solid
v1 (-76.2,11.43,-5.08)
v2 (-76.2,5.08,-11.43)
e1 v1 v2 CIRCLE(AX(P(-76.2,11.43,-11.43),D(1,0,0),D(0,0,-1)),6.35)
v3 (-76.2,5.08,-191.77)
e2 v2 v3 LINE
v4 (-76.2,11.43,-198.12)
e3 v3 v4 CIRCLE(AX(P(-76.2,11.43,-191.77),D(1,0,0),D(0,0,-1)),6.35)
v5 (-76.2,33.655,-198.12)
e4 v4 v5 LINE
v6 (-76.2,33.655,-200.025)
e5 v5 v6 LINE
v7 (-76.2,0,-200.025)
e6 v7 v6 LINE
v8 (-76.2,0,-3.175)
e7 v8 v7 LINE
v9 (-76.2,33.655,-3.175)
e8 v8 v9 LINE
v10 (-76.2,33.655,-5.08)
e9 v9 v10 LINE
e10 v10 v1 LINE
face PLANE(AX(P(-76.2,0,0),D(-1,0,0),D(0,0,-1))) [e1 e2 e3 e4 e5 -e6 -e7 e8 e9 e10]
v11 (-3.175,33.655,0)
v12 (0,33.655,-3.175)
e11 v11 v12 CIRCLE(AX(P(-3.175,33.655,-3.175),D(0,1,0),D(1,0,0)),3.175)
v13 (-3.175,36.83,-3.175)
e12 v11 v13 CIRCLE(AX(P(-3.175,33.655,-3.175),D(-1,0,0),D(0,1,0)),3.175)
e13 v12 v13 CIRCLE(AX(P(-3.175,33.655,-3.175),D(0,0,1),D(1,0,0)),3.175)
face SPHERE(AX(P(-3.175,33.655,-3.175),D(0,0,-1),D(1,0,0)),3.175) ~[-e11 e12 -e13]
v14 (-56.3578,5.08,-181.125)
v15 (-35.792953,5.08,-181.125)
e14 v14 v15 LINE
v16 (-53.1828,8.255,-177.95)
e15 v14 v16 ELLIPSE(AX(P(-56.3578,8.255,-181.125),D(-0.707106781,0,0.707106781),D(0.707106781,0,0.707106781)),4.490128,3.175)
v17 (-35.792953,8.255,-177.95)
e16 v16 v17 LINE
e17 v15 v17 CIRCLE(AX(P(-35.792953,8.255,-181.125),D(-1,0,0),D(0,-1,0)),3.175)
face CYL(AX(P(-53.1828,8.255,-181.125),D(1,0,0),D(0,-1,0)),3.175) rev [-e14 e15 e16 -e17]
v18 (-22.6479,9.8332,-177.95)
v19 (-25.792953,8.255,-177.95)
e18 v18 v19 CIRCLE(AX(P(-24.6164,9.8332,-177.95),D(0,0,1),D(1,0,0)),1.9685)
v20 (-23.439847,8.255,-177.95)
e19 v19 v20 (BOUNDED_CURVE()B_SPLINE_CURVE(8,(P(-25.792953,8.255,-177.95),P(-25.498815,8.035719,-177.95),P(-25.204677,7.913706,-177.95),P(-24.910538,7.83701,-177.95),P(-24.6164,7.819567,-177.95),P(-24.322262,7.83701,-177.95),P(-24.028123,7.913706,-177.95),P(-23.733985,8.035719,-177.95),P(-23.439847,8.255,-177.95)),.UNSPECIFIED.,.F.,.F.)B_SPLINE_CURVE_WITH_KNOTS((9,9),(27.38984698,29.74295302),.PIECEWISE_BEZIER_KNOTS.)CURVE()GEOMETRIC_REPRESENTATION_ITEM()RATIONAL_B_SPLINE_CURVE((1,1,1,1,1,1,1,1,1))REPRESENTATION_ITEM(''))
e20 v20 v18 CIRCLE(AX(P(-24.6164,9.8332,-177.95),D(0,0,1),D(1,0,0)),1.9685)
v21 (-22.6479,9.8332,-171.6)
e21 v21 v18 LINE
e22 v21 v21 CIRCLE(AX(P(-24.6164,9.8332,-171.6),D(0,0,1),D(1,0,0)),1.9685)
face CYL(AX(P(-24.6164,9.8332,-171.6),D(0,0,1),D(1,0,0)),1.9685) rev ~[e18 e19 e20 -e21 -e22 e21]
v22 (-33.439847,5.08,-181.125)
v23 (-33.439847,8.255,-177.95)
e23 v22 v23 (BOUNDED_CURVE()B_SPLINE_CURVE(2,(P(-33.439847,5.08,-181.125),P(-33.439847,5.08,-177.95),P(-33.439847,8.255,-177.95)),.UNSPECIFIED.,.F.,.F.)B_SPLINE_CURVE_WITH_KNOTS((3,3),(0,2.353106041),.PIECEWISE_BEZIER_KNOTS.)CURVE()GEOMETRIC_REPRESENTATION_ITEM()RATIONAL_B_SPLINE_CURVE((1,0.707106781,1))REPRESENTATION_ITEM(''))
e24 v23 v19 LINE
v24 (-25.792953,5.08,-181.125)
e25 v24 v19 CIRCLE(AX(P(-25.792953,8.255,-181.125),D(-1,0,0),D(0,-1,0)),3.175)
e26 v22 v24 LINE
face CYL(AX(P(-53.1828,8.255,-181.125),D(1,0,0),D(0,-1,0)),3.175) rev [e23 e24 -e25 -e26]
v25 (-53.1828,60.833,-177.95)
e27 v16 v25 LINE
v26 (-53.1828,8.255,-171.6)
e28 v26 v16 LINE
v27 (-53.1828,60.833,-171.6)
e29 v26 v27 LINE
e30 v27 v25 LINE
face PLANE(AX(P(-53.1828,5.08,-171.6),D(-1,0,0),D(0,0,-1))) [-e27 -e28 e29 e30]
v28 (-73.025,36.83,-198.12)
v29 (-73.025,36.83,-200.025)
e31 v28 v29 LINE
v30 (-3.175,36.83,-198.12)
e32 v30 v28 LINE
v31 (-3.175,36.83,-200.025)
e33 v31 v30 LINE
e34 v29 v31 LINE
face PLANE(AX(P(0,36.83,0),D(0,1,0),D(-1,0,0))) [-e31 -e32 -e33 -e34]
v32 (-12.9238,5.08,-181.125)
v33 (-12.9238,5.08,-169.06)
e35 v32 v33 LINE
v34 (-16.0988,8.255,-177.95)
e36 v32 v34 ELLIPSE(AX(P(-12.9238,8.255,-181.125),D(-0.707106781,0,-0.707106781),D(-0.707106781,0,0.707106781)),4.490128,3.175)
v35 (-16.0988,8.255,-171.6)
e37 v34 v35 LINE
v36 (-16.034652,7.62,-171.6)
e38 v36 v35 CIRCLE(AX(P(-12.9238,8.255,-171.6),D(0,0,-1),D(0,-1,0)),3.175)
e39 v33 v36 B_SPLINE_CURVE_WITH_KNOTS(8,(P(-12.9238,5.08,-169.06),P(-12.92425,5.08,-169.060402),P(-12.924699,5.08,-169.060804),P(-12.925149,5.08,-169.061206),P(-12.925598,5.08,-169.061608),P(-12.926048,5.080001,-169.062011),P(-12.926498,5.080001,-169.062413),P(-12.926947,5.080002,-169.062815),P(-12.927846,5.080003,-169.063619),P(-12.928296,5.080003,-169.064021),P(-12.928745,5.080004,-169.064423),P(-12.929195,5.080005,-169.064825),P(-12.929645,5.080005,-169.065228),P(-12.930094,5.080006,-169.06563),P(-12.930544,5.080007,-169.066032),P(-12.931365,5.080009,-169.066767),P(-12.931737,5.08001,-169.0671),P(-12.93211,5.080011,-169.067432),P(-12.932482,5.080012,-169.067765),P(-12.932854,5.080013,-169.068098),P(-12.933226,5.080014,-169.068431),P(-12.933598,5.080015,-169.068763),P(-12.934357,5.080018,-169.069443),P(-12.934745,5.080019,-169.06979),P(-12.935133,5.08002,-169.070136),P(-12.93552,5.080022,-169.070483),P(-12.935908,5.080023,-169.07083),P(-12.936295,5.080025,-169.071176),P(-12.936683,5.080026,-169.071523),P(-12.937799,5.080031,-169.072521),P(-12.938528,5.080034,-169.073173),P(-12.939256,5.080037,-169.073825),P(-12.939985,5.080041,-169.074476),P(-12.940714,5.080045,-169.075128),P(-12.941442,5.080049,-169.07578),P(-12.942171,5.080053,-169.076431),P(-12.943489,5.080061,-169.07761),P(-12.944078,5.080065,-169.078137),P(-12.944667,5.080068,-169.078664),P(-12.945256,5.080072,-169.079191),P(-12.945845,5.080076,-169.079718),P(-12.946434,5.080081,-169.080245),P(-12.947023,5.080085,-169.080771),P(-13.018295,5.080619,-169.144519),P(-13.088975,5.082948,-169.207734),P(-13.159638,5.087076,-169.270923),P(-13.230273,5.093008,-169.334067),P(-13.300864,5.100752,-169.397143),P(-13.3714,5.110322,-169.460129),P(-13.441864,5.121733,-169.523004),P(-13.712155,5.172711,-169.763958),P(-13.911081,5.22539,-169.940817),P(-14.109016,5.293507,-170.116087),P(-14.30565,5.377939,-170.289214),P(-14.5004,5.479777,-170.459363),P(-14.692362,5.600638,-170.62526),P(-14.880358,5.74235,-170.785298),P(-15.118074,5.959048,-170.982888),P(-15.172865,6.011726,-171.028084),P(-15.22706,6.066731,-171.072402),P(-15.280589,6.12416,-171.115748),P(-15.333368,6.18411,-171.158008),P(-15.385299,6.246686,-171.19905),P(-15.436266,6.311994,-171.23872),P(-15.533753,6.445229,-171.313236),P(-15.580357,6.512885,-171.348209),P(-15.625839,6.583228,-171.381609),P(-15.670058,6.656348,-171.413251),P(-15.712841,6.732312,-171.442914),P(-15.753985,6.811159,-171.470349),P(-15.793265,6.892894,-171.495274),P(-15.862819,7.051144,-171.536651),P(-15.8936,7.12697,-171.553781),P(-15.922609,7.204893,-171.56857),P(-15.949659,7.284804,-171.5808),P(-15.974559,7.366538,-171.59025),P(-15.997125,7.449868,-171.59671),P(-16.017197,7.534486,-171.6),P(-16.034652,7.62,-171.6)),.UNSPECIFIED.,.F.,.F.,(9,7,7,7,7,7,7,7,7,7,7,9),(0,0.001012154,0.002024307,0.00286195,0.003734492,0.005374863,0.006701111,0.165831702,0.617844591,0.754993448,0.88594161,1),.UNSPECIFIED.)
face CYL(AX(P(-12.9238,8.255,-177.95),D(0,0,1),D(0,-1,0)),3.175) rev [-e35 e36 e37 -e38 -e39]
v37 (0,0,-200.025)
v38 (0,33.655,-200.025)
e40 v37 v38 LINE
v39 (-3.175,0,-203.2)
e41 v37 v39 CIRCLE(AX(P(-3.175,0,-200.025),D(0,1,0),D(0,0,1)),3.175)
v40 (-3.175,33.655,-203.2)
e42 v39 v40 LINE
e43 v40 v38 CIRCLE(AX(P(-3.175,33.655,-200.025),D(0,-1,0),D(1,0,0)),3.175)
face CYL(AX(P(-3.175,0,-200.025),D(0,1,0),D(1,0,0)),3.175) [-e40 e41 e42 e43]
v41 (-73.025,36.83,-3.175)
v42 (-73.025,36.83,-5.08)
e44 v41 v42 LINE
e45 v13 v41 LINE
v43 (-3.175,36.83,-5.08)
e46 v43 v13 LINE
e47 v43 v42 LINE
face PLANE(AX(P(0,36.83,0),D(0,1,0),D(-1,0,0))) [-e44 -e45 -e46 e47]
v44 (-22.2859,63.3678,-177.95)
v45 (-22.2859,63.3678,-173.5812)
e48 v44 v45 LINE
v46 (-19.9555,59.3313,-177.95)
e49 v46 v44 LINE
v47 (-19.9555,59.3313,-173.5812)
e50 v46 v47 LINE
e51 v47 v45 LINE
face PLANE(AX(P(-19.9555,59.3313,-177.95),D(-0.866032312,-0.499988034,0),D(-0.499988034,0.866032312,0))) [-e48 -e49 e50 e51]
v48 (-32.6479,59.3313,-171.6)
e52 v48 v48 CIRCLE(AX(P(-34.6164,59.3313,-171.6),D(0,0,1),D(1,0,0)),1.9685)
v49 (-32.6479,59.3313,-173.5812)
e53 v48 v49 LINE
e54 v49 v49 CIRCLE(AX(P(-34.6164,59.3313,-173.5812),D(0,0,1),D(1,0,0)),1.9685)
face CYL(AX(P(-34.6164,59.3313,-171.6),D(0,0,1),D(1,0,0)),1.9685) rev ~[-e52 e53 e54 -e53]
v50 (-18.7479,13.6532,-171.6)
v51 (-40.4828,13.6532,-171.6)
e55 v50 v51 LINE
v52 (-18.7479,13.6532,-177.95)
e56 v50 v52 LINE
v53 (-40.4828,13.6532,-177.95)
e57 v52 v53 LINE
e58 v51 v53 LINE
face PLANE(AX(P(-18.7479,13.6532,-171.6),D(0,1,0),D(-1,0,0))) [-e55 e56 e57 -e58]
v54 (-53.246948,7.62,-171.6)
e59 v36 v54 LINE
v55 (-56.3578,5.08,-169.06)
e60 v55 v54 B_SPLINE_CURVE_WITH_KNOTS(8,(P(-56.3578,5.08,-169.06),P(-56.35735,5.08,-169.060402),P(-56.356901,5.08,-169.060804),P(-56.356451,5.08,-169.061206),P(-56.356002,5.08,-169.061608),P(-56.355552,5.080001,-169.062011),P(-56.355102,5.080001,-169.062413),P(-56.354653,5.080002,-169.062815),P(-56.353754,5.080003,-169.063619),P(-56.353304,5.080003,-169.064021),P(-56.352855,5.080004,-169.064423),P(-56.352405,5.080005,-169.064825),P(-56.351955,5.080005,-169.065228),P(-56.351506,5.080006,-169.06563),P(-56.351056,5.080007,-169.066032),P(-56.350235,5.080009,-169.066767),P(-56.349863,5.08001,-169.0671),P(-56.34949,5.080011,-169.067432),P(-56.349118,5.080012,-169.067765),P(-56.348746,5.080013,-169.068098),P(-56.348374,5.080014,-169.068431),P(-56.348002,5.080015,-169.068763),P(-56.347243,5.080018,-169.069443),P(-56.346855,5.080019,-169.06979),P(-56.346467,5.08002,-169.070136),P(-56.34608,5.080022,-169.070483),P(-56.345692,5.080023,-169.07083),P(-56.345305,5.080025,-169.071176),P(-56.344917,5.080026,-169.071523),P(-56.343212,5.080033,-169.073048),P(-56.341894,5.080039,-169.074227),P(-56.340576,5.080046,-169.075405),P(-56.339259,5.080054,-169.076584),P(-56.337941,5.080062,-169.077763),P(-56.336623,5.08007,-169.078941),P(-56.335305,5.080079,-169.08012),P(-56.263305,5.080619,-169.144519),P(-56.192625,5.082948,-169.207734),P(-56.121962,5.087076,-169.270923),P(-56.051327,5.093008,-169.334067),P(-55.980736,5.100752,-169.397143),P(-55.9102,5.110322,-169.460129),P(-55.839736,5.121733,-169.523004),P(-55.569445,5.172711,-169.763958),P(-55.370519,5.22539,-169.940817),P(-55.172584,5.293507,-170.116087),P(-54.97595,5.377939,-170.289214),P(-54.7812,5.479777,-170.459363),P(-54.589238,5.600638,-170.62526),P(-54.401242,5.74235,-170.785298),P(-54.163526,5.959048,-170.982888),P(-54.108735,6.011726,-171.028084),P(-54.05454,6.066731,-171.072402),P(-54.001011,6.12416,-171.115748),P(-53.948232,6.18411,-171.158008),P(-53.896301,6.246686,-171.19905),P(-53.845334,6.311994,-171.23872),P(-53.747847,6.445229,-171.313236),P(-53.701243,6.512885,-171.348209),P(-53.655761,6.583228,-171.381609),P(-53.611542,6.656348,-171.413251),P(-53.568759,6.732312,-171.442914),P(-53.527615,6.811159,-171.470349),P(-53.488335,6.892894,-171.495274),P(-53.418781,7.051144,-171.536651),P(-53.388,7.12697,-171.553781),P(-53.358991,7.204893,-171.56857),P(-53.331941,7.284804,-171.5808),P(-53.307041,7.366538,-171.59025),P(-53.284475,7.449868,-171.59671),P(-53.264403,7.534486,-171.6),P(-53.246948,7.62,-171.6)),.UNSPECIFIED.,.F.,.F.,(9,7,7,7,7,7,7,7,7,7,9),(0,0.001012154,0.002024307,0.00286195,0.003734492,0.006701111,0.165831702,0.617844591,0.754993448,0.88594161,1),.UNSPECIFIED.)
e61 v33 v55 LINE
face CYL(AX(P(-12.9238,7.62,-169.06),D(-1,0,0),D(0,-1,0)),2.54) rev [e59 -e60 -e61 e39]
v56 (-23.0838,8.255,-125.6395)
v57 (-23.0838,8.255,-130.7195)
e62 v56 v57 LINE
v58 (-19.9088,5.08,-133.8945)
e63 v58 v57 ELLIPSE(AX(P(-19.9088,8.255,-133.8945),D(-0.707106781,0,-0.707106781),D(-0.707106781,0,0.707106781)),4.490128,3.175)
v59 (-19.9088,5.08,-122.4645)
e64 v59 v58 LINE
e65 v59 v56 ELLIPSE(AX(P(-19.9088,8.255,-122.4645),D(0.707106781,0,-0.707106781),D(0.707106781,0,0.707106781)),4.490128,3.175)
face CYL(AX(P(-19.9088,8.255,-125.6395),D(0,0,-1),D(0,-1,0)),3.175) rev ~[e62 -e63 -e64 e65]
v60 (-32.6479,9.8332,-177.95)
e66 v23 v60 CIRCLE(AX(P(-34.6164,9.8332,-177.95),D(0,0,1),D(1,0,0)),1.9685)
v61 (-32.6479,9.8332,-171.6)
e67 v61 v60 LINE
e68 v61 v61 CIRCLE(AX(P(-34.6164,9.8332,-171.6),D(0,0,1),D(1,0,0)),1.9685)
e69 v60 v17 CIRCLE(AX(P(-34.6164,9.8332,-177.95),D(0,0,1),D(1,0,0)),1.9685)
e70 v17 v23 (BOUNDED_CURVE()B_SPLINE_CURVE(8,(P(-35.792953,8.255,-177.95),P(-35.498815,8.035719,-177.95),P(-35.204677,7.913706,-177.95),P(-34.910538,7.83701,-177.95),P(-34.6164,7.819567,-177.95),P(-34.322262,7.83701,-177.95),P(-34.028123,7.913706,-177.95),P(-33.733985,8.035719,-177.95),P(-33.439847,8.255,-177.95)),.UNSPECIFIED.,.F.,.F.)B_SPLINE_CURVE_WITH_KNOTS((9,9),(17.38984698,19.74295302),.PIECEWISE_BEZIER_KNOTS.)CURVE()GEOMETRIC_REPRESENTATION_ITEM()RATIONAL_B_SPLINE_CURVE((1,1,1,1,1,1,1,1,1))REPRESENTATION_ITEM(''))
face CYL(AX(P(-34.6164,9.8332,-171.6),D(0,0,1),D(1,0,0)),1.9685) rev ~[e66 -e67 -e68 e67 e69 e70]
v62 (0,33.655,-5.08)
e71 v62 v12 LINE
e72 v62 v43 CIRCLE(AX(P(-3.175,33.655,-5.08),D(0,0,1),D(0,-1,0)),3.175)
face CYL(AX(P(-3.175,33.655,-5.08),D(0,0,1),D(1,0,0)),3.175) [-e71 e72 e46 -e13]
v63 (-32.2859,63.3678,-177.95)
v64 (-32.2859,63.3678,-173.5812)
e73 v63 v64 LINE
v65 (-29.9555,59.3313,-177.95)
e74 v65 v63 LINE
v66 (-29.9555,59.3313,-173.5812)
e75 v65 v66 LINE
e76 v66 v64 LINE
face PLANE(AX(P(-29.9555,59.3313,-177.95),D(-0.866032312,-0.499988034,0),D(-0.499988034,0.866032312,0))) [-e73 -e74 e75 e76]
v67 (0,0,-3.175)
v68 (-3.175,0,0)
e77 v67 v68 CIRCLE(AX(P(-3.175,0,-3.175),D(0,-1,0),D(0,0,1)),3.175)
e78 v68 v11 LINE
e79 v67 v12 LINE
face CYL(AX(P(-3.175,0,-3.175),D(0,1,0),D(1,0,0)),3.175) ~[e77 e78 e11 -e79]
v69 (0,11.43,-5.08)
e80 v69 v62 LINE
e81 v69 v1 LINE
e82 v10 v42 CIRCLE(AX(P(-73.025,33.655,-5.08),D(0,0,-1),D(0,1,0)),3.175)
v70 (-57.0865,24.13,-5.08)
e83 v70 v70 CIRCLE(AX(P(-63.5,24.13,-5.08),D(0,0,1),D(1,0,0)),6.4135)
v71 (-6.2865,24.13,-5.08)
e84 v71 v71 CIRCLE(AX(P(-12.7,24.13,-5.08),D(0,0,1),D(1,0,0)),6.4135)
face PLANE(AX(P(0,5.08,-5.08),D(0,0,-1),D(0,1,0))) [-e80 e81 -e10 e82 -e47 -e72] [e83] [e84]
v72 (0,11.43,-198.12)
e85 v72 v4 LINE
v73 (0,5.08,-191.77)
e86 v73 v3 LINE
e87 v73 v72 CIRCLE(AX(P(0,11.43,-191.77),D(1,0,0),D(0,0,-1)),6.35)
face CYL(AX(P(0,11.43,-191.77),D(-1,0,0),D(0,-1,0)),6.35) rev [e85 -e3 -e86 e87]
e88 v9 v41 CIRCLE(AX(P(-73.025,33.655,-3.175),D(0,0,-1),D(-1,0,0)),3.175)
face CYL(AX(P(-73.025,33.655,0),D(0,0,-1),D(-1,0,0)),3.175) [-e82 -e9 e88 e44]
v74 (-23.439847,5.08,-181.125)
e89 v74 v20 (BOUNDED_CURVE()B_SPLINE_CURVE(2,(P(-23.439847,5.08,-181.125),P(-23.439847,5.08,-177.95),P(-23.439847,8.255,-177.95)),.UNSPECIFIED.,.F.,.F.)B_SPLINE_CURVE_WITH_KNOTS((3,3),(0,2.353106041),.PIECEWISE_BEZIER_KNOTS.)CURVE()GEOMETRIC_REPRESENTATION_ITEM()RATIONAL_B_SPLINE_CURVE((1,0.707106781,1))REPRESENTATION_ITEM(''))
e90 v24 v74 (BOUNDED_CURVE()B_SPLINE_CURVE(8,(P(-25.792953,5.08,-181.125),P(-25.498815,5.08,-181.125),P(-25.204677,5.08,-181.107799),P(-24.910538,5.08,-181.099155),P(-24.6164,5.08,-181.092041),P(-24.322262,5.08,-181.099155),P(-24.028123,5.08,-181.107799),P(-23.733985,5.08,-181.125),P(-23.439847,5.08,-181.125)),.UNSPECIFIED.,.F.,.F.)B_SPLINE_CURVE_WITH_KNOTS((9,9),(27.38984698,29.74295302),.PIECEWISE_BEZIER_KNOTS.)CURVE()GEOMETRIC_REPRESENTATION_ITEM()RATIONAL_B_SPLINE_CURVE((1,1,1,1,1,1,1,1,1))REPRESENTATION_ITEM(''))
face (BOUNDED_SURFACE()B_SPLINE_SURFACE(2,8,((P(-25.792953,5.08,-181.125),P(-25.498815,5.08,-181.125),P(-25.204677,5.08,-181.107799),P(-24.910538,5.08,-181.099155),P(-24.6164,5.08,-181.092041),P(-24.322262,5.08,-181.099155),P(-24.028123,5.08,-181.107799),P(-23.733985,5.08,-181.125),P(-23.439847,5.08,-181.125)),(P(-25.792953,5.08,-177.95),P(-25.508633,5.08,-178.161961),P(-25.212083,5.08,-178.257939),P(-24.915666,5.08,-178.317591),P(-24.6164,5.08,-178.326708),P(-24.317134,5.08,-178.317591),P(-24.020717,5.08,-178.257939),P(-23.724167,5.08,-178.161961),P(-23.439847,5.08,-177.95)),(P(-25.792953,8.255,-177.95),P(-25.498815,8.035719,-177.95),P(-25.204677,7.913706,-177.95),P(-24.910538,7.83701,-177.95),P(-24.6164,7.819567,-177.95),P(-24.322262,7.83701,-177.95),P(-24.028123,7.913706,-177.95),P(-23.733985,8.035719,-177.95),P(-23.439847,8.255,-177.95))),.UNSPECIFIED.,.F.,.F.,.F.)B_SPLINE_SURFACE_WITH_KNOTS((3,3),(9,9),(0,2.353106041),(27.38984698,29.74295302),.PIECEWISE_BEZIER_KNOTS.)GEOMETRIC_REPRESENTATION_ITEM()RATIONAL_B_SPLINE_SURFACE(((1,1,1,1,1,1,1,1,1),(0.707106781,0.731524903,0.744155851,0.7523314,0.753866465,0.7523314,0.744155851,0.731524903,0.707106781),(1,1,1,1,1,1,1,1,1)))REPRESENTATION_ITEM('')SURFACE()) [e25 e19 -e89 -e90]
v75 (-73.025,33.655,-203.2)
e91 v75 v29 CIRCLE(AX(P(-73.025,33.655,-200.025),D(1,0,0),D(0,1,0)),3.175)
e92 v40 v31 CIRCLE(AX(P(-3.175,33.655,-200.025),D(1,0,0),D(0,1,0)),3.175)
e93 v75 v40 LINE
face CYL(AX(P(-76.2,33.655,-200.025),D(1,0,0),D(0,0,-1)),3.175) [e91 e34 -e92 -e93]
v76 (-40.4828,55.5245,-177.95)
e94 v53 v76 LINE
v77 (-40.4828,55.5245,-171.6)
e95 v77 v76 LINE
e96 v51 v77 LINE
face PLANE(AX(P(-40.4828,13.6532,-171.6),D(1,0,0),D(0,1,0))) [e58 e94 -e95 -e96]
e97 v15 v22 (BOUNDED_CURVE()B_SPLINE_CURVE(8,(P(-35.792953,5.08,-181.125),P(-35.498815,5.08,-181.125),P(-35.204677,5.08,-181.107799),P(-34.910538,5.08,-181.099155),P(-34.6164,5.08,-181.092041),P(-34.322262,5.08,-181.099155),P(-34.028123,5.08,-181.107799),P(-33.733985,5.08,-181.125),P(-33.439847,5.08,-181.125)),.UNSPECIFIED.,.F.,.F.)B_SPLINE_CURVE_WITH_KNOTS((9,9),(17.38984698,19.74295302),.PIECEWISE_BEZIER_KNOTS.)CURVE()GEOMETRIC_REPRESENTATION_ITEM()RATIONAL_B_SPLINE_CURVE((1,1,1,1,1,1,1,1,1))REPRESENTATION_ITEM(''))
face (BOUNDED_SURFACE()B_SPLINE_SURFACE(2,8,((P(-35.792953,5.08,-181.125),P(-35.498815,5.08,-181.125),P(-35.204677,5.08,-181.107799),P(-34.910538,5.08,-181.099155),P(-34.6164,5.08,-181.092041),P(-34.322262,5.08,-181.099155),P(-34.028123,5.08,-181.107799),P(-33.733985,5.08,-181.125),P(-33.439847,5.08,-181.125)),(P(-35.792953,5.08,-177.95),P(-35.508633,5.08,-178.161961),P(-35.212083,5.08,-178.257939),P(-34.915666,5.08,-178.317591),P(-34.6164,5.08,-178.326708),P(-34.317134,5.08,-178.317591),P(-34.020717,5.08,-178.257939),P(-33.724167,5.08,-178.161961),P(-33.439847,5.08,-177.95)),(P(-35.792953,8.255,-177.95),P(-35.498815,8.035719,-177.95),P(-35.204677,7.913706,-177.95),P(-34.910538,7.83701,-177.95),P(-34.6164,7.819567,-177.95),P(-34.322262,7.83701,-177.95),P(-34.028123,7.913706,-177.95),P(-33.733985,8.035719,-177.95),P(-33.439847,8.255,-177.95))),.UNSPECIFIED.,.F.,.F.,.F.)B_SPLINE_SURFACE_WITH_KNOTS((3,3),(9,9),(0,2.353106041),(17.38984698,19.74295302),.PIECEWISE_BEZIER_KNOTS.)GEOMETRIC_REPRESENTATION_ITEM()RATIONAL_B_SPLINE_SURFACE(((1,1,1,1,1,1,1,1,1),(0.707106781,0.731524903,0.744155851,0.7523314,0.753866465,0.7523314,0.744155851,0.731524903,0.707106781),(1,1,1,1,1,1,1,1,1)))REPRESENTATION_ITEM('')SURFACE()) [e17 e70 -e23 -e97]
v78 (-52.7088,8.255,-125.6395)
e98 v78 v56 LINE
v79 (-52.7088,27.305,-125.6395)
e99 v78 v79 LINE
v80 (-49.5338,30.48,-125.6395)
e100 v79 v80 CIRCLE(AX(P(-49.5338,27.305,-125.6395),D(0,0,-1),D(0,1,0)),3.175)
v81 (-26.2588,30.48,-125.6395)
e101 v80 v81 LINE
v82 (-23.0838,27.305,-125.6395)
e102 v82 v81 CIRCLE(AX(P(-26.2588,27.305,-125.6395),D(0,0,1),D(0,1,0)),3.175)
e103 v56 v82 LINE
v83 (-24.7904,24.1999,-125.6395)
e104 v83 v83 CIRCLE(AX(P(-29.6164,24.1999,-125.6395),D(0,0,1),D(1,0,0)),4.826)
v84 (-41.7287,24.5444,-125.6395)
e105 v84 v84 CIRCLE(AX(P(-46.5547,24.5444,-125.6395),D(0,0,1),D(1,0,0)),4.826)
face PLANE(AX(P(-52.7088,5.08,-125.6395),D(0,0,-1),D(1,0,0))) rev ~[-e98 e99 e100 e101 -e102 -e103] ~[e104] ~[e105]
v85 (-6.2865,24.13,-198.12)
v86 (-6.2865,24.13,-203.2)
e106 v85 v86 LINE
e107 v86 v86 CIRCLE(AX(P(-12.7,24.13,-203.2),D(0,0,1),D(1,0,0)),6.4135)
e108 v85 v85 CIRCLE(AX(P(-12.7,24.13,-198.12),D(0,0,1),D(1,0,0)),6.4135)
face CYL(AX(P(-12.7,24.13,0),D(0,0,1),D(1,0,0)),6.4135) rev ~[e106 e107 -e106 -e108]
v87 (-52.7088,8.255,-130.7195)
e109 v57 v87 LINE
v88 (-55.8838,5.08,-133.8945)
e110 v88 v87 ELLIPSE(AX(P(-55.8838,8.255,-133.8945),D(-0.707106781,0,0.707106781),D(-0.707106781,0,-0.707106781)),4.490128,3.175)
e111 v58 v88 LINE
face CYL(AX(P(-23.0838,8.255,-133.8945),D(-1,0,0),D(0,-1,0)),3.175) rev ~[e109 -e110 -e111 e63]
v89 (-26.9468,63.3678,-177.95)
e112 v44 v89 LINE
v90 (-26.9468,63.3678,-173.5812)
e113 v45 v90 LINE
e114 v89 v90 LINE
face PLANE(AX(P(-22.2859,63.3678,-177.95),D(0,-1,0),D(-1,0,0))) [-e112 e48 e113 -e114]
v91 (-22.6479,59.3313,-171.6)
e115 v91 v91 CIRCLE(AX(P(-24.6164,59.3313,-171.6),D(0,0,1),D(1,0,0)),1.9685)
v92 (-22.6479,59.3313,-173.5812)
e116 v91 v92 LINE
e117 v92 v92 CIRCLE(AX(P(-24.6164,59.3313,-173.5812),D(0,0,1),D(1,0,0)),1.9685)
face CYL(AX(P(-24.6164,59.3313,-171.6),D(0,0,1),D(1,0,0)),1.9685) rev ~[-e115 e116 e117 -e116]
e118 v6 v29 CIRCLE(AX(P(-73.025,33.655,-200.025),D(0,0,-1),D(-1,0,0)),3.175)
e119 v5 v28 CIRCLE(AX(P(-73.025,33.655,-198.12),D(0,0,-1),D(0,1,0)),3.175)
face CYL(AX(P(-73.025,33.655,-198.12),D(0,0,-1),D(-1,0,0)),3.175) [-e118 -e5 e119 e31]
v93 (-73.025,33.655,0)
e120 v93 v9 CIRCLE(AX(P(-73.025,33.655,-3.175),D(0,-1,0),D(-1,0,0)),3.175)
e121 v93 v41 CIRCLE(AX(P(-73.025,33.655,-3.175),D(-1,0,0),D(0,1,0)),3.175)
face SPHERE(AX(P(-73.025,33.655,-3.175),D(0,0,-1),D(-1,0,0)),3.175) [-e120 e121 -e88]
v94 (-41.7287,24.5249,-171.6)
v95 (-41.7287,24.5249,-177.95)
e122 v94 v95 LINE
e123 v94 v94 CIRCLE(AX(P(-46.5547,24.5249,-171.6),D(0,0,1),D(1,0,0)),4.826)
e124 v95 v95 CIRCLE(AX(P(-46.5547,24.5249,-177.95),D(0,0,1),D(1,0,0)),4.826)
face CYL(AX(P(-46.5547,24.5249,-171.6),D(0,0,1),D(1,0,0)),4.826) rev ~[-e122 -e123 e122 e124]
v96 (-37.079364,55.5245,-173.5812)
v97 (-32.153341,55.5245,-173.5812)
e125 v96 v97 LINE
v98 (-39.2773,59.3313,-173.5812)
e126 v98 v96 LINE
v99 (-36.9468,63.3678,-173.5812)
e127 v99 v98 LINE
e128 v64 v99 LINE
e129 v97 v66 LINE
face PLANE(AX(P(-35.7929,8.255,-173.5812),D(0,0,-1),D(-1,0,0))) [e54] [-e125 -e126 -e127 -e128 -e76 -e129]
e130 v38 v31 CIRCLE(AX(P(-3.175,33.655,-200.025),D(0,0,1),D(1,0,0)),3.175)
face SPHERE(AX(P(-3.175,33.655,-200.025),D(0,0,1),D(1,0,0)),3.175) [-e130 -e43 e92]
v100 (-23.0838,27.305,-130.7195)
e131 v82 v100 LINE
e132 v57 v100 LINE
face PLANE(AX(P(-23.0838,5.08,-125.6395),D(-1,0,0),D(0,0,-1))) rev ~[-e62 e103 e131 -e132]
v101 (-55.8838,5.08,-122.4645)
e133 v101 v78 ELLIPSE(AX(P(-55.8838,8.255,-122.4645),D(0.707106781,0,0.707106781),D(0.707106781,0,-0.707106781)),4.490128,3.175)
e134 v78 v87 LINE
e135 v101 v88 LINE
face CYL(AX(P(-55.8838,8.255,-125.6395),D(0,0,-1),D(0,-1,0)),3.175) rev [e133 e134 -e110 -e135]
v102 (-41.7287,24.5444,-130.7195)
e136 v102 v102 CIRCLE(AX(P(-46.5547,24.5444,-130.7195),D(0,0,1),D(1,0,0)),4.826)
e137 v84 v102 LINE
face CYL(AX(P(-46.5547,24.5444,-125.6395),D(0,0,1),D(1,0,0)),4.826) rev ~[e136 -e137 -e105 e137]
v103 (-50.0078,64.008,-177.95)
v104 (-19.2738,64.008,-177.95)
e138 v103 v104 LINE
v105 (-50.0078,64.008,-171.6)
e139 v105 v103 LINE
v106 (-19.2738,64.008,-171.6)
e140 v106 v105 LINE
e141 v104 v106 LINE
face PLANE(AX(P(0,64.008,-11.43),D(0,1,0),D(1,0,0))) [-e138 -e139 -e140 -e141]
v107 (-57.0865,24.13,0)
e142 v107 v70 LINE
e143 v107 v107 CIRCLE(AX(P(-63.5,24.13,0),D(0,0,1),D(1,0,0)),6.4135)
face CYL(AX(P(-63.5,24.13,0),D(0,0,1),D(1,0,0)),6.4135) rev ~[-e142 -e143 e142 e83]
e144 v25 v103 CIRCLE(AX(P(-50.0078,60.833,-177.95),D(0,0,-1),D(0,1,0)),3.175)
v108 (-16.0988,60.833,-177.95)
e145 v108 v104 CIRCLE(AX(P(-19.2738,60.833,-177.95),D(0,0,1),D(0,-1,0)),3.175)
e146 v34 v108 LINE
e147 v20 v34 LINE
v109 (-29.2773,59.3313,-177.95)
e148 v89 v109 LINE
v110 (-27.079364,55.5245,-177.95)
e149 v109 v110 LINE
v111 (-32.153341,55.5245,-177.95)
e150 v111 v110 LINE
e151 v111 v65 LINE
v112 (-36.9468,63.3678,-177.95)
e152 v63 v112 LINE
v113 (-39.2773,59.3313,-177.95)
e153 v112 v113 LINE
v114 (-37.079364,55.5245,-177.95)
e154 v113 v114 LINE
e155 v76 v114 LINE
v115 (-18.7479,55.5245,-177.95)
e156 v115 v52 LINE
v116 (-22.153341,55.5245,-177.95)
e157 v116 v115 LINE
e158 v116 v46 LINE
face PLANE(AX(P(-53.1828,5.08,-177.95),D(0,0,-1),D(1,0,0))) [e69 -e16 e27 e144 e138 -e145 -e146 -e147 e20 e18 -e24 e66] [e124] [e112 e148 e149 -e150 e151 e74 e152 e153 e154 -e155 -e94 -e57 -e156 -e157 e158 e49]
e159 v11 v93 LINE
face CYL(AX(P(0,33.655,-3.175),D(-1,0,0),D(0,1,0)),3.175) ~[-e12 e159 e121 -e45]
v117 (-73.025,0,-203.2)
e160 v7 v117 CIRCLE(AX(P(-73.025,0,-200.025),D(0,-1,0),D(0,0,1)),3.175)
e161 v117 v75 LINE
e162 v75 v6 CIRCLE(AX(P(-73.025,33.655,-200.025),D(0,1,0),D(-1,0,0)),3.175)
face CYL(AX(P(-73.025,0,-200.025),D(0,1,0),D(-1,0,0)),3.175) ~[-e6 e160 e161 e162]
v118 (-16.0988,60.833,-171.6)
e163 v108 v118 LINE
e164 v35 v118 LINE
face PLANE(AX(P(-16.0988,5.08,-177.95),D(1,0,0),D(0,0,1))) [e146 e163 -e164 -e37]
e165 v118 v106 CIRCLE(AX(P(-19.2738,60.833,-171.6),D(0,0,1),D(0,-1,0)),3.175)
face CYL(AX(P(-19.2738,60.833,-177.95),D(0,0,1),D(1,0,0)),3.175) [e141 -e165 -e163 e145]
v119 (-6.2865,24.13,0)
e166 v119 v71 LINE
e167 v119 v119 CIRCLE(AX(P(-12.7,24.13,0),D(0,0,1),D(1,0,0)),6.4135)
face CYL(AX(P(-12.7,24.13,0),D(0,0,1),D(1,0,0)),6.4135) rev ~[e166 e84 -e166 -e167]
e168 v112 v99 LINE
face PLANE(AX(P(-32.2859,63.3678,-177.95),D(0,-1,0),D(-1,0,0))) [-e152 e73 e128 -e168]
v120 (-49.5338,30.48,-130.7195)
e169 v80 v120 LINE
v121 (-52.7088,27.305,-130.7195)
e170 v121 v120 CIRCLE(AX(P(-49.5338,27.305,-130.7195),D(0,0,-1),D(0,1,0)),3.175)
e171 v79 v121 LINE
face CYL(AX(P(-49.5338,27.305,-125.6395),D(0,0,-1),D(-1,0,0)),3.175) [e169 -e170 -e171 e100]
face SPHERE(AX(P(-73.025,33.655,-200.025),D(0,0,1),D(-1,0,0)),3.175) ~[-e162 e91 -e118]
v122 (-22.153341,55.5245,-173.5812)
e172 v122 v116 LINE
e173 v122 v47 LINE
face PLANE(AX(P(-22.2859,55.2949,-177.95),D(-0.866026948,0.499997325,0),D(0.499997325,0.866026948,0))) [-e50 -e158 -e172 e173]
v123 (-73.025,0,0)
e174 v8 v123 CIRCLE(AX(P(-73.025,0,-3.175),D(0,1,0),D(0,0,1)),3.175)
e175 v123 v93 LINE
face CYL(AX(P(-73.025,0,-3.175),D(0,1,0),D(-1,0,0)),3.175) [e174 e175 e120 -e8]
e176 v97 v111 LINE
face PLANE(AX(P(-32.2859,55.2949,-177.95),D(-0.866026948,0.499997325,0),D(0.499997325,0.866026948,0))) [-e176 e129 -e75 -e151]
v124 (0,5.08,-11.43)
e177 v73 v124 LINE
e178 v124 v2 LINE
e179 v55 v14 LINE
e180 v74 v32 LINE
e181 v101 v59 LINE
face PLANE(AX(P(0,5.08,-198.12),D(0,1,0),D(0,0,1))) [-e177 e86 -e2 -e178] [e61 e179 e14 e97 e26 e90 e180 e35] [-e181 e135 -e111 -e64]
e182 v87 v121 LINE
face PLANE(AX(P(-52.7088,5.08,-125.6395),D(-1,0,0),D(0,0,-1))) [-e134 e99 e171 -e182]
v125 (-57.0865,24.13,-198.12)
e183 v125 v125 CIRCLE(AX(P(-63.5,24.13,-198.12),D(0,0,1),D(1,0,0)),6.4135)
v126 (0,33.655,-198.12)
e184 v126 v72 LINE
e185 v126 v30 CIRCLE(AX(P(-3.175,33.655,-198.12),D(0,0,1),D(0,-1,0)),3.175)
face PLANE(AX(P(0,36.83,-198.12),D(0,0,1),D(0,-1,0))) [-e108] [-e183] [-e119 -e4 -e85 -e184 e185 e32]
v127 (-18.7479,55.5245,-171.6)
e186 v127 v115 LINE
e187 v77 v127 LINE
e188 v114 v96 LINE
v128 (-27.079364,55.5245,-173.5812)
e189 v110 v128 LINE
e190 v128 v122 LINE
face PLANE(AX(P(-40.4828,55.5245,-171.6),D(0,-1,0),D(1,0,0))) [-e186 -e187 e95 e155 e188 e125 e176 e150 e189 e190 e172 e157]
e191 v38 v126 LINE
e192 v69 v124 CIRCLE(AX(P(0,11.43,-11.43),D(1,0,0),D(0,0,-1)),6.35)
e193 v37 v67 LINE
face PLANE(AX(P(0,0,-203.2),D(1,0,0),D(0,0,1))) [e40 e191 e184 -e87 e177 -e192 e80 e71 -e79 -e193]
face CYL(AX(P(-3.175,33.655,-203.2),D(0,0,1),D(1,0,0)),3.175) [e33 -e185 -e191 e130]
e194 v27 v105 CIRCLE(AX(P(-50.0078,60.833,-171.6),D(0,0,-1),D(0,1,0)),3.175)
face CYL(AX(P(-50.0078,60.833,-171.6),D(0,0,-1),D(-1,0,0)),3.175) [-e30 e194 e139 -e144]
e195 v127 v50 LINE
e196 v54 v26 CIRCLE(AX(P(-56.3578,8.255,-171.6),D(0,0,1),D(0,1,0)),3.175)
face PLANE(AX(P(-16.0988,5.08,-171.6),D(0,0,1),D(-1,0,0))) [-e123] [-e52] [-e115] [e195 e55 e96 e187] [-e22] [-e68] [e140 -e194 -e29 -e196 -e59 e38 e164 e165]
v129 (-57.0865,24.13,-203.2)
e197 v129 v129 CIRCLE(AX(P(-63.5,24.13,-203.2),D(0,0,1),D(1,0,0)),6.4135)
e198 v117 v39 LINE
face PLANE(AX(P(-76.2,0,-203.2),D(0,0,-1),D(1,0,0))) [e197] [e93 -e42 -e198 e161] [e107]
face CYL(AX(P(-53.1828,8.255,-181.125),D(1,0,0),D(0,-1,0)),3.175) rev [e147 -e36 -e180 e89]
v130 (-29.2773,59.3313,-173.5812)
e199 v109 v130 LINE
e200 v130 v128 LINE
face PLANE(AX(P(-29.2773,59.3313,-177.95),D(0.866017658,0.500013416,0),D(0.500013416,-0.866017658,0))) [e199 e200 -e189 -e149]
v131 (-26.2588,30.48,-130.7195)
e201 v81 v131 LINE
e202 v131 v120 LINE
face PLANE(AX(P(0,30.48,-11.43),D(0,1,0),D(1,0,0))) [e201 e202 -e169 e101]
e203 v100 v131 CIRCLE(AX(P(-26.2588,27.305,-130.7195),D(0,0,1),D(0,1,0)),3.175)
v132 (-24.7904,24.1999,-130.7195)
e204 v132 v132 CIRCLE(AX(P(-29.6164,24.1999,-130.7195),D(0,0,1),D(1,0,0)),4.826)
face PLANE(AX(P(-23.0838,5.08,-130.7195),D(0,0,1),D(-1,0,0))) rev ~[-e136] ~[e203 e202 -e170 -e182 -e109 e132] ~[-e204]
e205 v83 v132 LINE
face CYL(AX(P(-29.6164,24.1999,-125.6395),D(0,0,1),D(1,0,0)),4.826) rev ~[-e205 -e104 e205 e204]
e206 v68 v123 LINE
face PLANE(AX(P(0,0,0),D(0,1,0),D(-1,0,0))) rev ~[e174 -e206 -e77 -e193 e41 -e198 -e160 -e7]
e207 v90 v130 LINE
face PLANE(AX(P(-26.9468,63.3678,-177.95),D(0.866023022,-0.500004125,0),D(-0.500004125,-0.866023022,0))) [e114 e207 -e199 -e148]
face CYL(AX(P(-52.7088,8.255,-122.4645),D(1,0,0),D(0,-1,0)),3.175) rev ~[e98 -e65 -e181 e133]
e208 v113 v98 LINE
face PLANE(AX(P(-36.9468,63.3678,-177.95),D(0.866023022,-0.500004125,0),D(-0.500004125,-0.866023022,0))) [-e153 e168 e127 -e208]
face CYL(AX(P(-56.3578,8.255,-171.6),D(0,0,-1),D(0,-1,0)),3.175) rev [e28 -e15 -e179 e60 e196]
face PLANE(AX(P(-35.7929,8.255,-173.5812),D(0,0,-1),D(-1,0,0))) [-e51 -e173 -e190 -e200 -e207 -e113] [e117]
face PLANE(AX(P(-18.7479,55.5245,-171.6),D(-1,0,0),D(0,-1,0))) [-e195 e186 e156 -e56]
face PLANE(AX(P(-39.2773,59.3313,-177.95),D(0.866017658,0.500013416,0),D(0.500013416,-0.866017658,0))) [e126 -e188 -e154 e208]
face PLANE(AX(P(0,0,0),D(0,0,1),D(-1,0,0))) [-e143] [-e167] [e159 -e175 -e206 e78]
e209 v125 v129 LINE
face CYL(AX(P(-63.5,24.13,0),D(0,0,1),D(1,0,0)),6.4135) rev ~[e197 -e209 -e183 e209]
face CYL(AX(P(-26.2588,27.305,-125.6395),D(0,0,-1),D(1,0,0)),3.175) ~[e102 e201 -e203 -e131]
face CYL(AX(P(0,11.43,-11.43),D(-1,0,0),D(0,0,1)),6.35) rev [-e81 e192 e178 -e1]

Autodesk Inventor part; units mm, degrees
ref_plane "YZ Plane" through (0, 0, 0) normal (1, 0, 0) x (0, 1, 0)
ref_plane "XZ Plane" through (0, 0, 0) normal (0, 1, 0) x (-1, 0, 0)
sketch "Sketch1" plane through (0, 0, 0) normal (0, 1, 0) x (-1, 0, 0)
  line L0 (0, 0) -> (76.2, 0)
  line L1 (76.2, 0) -> (76.2, -203.2)
  line L2 (76.2, -203.2) -> (0, -203.2)
  line L3 (0, -203.2) -> (0, 0)
  dimension "d0" = 76.2
  dimension "d1" = 203.2
extrude "Extrusion1" add sketch "Sketch1" along normal blind 36.83
sketch "Sketch2" plane through (-76.2, 0, 0) normal (0, 0, 1) x (1, 0, 0)
  circle A0 centre (63.5, 24.13) radius 6.4135
  circle A1 centre (12.7, 24.13) radius 6.4135
  line L0 (76.2, 0) -> (0, 0) projected
  line L1 (0, 0) -> (0, 36.83) projected
  dimension "d4" = 12.827
  dimension "d5" = 12.827
  dimension "d6" = 24.13
  dimension "d7" = 24.13
  dimension "d8" = 50.8
  dimension "d9" = 12.7
extrude "Extrusion2" cut sketch "Sketch2" against normal through all
sketch "Sketch3" plane through (0, 0, 0) normal (1, 0, 0) x (0, 0, -1)
  line L0 (0, 36.83) -> (203.2, 36.83) projected
  line L1 (5.08, 36.83) -> (198.12, 36.83)
  line L2 (198.12, 36.83) -> (198.12, 5.08)
  line L3 (198.12, 5.08) -> (5.08, 5.08)
  line L4 (5.08, 5.08) -> (5.08, 36.83)
  line L5 (0, 0) -> (0, 36.83) projected
  line L6 (203.2, 0) -> (203.2, 36.83) projected
  line L7 (203.2, 0) -> (0, 0) projected
  dimension "d12" = 5.08
  dimension "d13" = 5.08
  dimension "d14" = 5.08
extrude "Extrusion3" cut sketch "Sketch3" against normal through all contours L0 L2 L3 L4
fillet "Fillet1" radius 6.35 2 edges at (-38.1, 5.08, -198.12) (-38.1, 5.08, -5.08)
ref_plane "Work Plane1" through (-38.1, 0, 0) normal (1, 0, 0) x (0, 0, -1)
sketch "Sketch4" plane through (0, 5.08, -11.43) normal (0, 1, 0) x (1, 0, 0)
  line L0 (-60.3288, -11.303) -> (-60.3288, 191.643) construction
  line L1 (-15.4638, -11.303) -> (-15.4638, 191.643) construction
  line L2 (-23.0838, 119.2895) -> (-52.7088, 119.2895)
  line L3 (-52.7088, 114.2095) -> (-23.0838, 114.2095)
  line L4 (-52.7088, 114.2095) -> (-52.7088, 119.2895)
  line L5 (-23.0838, 114.2095) -> (-23.0838, 119.2895)
  line L6 (-24.257, 119.5032) -> (-34.9758, 119.5032) projected
  point P0 (0, -11.43)
  dimension "d19" = 7.62
  dimension "d20" = 7.62
extrude "Extrusion4" add sketch "Sketch4" along normal blind 25.4
sketch "Sketch7" plane through (-52.7088, 5.08, -125.6395) normal (0, 0, 1) x (1, 0, 0)
  circle A0 centre (6.1541, 19.4644) radius 5.0173 construction
  circle A1 centre (6.1541, 19.4644) radius 4.826
  circle A2 centre (23.0924, 19.1199) radius 4.826
  circle A3 centre (23.0924, 19.462) radius 5.3594 projected
  circle A4 centre (6.1541, 19.8066) radius 5.3594 projected
  point P0 (52.7088, -5.08)
  dimension "d23" = 9.652
  dimension "d24" = 9.652
extrude "Extrusion5" cut sketch "Sketch7" against normal blind 6.35 contours A1 | A2
fillet "Fillet2" radius 3.175 4 edges at (-37.8963, 5.08, -125.6395) (-37.8963, 5.08, -130.7195) (-23.0838, 5.08, -128.1795) (-52.7088, 5.08, -128.1795)
sketch "Sketch8" plane through (0, 5.08, -11.43) normal (0, 1, 0) x (1, 0, 0)
  line L0 (-25.9664, 160.17) -> (-33.2664, 160.17) construction
  line L1 (-15.4638, -11.303) -> (-15.4638, 191.643) construction
  ellipse E0 centre (-46.5547, 158.3808) end of major axis (-51.9141, 158.3808) minor radius 0.1316 construction
  ellipse E1 centre (-46.5547, 161.5041) end of major axis (-51.3045, 161.5041) minor radius 0.1166 construction
  line L2 (-60.3288, -11.303) -> (-60.3288, 191.643) construction
  line L3 (-60.3288, -11.303) -> (-60.3288, 191.643) construction
  line L4 (-19.7164, 160.04) -> (-19.541, 180.14) construction
  line L5 (-19.7164, 160.04) -> (-19.541, 180.14) construction
  line L6 (-19.6387, 168.9455) -> (-19.673, 165.0128) construction
  line L7 (-19.6387, 168.9455) -> (-19.6387, 168.9455) construction
  line L8 (-19.6283, 170.1318) -> (-19.6387, 168.9455) construction
  line L9 (-19.6283, 170.1318) -> (-19.6283, 170.1318) construction
  line L10 (-19.6283, 170.1336) -> (-19.6283, 170.1318) construction
  line L11 (-19.6094, 172.2957) -> (-19.6283, 170.1336) construction
  line L12 (-19.6094, 172.2984) -> (-19.6094, 172.2957) construction
  line L13 (-19.6094, 172.2957) -> (-19.6094, 172.2984) construction
  line L14 (-19.6515, 167.4818) -> (-19.6094, 172.2957) construction
  line L15 (-19.6528, 167.3259) -> (-19.6515, 167.4818) construction
  line L16 (-19.6528, 167.3259) -> (-19.6528, 167.3259) construction
  line L17 (-19.6679, 165.5962) -> (-19.6528, 167.3259) construction
  line L18 (-19.6679, 165.5962) -> (-19.6679, 165.5962) construction
  line L19 (-19.653, 167.3096) -> (-19.6679, 165.5962) construction
  line L20 (-19.653, 167.3096) -> (-19.6494, 167.7197) construction
  line L21 (-19.6094, 172.2957) -> (-19.6494, 167.7197) construction
  line L22 (-19.6283, 170.1318) -> (-19.6094, 172.2957) construction
  line L23 (-19.6283, 170.1318) -> (-19.6283, 170.1318) construction
  line L24 (-19.6283, 170.13) -> (-19.6283, 170.1318) construction
  line L25 (-19.6717, 165.1614) -> (-19.6283, 170.13) construction
  line L26 (-19.6868, 163.4314) -> (-19.6717, 165.1614) construction
  line L27 (-19.6868, 163.4314) -> (-19.6868, 163.4314) construction
  line L28 (-19.673, 165.0128) -> (-19.6868, 163.4314) construction
  line L29 (-19.6094, 172.2957) -> (-19.6283, 170.1318) construction
  line L30 (-19.6094, 172.2957) -> (-19.6094, 172.2957) construction
  line L31 (-19.673, 165.0128) -> (-19.6094, 172.2957) construction
  line L32 (-19.6868, 163.4314) -> (-19.673, 165.0128) construction
  line L33 (-19.6868, 163.4314) -> (-19.6868, 163.4314) construction
  line L34 (-19.6868, 163.4334) -> (-19.6868, 163.4314) construction
  line L35 (-19.6679, 165.5962) -> (-19.6868, 163.4334) construction
  line L36 (-19.6679, 165.5962) -> (-19.6679, 165.5962) construction
  line L37 (-19.6679, 165.5979) -> (-19.6679, 165.5962) construction
  line L38 (-19.6552, 167.0544) -> (-19.6679, 165.5979) construction
  line L39 (-19.6552, 167.0544) -> (-19.6552, 167.0544) construction
  line L40 (-19.6411, 168.6735) -> (-19.6552, 167.0544) construction
  line L41 (-19.6411, 168.6735) -> (-19.6411, 168.6735) construction
  line L42 (-19.6283, 170.1318) -> (-19.6411, 168.6735) construction
  line L43 (-19.6283, 170.1318) -> (-19.6283, 170.1318) construction
  line L44 (-19.6868, 163.4314) -> (-19.6868, 163.4314) construction
  line L45 (-19.6094, 172.2957) -> (-19.6868, 163.4314) construction
  line L46 (-19.6868, 163.4314) -> (-19.6094, 172.2957) construction
  line L47 (-19.6868, 163.4314) -> (-19.6868, 163.4314) construction
  line L48 (-19.6472, 167.967) -> (-19.6868, 163.4314) construction
  line L49 (-19.6868, 163.4314) -> (-19.6472, 167.967) construction
  line L50 (-19.5888, 174.6572) -> (-19.584, 175.214) construction
  line L51 (-19.5788, 175.8099) -> (-19.5739, 176.3668) construction
  line L52 (-19.5858, 175.0075) -> (-19.5736, 176.4035) construction
  line L53 (-19.5736, 176.4035) -> (-19.5736, 176.4035) construction
  line L54 (-19.5736, 176.4035) -> (-19.5858, 175.0075) construction
  line L55 (-19.5858, 175.0075) -> (-19.5858, 175.0075) construction
  line L56 (-19.5858, 175.0075) -> (-19.5892, 174.6137) construction
  line L57 (-19.5892, 174.6137) -> (-19.5892, 174.6137) construction
  line L58 (-19.5892, 174.6137) -> (-19.5858, 175.0075) construction
  line L59 (-19.5858, 175.0075) -> (-19.5858, 175.0075) construction
  line L60 (-19.5844, 175.1679) -> (-19.5884, 174.7078) construction
  line L61 (-19.5831, 175.3099) -> (-19.5834, 175.2759) construction
  line L62 (-19.5789, 175.7906) -> (-19.5747, 176.2825) construction
  line L63 (-19.5781, 175.8923) -> (-19.5789, 175.7906) construction
  line L64 (-19.5736, 176.4035) -> (-19.58, 175.6688) construction
  line L65 (-19.5736, 176.4035) -> (-19.5736, 176.4035) construction
  line L66 (-19.5772, 175.9878) -> (-19.5736, 176.4035) construction
  line L67 (-19.5823, 175.4036) -> (-19.5772, 175.9878) construction
  line L68 (-19.5861, 174.9699) -> (-19.5861, 174.9699) construction
  line L69 (-19.5736, 176.4035) -> (-19.5861, 174.9699) construction
  line L70 (-19.5736, 176.4035) -> (-19.5736, 176.4035) construction
  line L71 (-19.5892, 174.6137) -> (-19.5736, 176.4035) construction
  line L72 (-19.5892, 174.6137) -> (-19.5892, 174.6137) construction
  line L73 (-19.5892, 174.6137) -> (-19.5892, 174.6137) construction
  line L74 (-19.5819, 175.4488) -> (-19.582, 175.4443) construction
  line L75 (-19.5736, 176.4035) -> (-19.5736, 176.4035) construction
  line L76 (-19.5892, 174.6137) -> (-19.5736, 176.4035) construction
  line L77 (-19.5892, 174.6137) -> (-19.5736, 176.4035) construction
  line L78 (-19.5736, 176.4035) -> (-19.5736, 176.4035) construction
  line L79 (-19.5736, 176.4035) -> (-19.5892, 174.6137) construction
  line L80 (-19.5892, 174.6137) -> (-19.5892, 174.6137) construction
  line L81 (-51.9141, 158.1619) -> (-51.9141, 159.0508) construction
  line L82 (0, 0) -> (-76.2, 0) construction
  line L83 (0, 180.34) -> (0, 0) construction
  line L84 (-76.2, 180.34) -> (0, 180.34) construction
  line L85 (-76.2, 0) -> (-76.2, 180.34) construction
  line L86 (-19.9088, 111.0345) -> (-19.9088, 122.4645) construction
  line L87 (-55.8838, 111.0345) -> (-19.9088, 111.0345) construction
  line L88 (-55.8838, 122.4645) -> (-55.8838, 111.0345) construction
  line L89 (-19.9088, 122.4645) -> (-55.8838, 122.4645) construction
  line L90 (-15.4638, 160.17) -> (-53.1828, 160.17) construction
  line L91 (-53.1828, 160.17) -> (-53.1828, 166.52) construction
  line L92 (-53.1828, 166.52) -> (-15.4638, 166.52) construction
  line L93 (-15.4638, 166.52) -> (-15.4638, 160.17) construction
  line L94 (-53.1828, 166.52) -> (-16.0988, 166.52)
  line L95 (-16.0988, 166.52) -> (-16.0988, 160.17)
  line L96 (-16.0988, 160.17) -> (-53.1828, 160.17)
  line L97 (-53.1828, 160.17) -> (-53.1828, 166.52)
  point P0 (0, -11.43)
  dimension "d28" = 37.719
  dimension "d29" = 6.35
  dimension "d30" = 37.084
extrude "Extrusion6" add sketch "Sketch8" along normal blind 58.928
sketch "Sketch9" plane through (-53.1828, 5.08, -171.6) normal (0, 0, 1) x (1, 0, 0)
  line L0 (37.084, 0) -> (0, 0)
  line L1 (37.084, 0) -> (37.084, 58.928)
  line L2 (0, 58.928) -> (37.084, 58.928)
  line L3 (0, 0) -> (0, 58.928)
  ellipse E0 centre (12.3574, 19.462) end of major axis (12.3574, 179.2561) minor radius 1.3944 (13.7519, 19.462) -> (13.7293, 48.1267) ccw construction
  spline S0 degree 3 number of poles 88 construction
  line L4 (32.192, 49.4152) -> (14.9407, 49.4152) construction
  spline S1 degree 3 number of poles 79 construction
  ellipse E1 centre (34.7753, 19.462) end of major axis (34.7753, 179.2561) minor radius 1.3944 (33.4035, 48.1267) -> (33.3809, 19.462) ccw construction
  line L5 (32.1522, 9.6538) -> (14.9806, 9.6538) construction
  circle A0 centre (28.5664, 54.2513) radius 1.9685
  circle A1 centre (18.5664, 54.2513) radius 1.9685
  circle A2 centre (18.5664, 4.7532) radius 1.9685
  circle A3 centre (28.5664, 4.7532) radius 1.9685
  line L6 (33.4057, 49.4152) -> (13.7293, 49.4152) construction
  line L7 (13.7293, 49.4152) -> (13.7293, 9.6025) construction
  line L8 (13.7293, 9.6025) -> (33.4057, 9.6025) construction
  line L9 (33.4057, 9.6025) -> (33.4057, 49.4152) construction
  line L10 (12.7, 8.5732) -> (12.7, 50.4445)
  line L11 (12.7, 50.4445) -> (34.4349, 50.4445)
  line L12 (34.4349, 50.4445) -> (34.4349, 8.5732)
  line L13 (34.4349, 8.5732) -> (12.7, 8.5732)
  circle A4 centre (6.6281, 19.4449) radius 4.826
  circle A5 centre (6.6281, 19.8066) radius 3.175
  arc A6 (17.3164, 56.1354) -> (19.9164, 56.0646) centre (18.5664, 54.2646) ccw
  arc A7 (32.9664, 49.1464) -> (32.192, 49.4152) centre (32.192, 48.1652) ccw
  arc A8 (19.9164, 2.9646) -> (17.3164, 2.8938) centre (18.5664, 4.7646) ccw
  arc A9 (29.8164, 2.8938) -> (27.2164, 2.9646) centre (28.5664, 4.7646) ccw
  arc A10 (27.2164, 56.0646) -> (29.8164, 56.1354) centre (28.5664, 54.2646) ccw
  point P0 (53.1828, -5.08)
  dimension "d33" = 3.937
  dimension "d34" = 3.937
  dimension "d35" = 3.937
  dimension "d36" = 3.937
  dimension "d37" = 1.0293
  dimension "d38" = 9.652
extrude "Extrusion7" cut sketch "Sketch9" against normal up to surface (6.35 mm away) contours A0 | A1 | A2 | A3 | L10 L11 L12 L13 | A4 | A5
fillet "Fillet3" radius 3.175 3 edges at (-16.0988, 5.08, -174.775) (-34.6408, 5.08, -177.95) (-53.1828, 5.08, -174.775)
fillet "Fillet4" radius 2.54 1 edges at (-34.6408, 5.08, -171.6)
fillet "Fillet5" radius 3.175 12 edges at (-76.2, 36.83, -200.66) (0, 36.83, -200.66) (0, 36.83, -2.54) (-76.2, 36.83, -2.54) (-76.2, 18.415, 0) (0, 18.415, 0) (-76.2, 18.415, -203.2) (0, 18.415, -203.2) (-53.1828, 64.008, -174.775) (-16.0988, 64.008, -174.775) (-38.1, 36.83, -203.2) (-38.1, 36.83, 0)
fillet "Fillet6" radius 3.175 2 edges at (-52.7088, 30.48, -128.1795) (-23.0838, 30.48, -128.1795)
sketch "Sketch10" plane through (-35.7929, 8.255, -177.95) normal (0, 0, -1) x (-1, 0, 0)
  circle A0 centre (-11.1765, 51.0763) radius 1.9685 construction
  circle A1 centre (-11.1765, 51.0763) radius 4.6609 construction
  circle A2 centre (-1.1765, 51.0763) radius 1.9685 construction
  circle A3 centre (-1.1765, 51.0763) radius 4.6609 construction
  line L0 (-6.5156, 51.0763) -> (-8.8461, 47.0399)
  line L1 (-8.8461, 47.0399) -> (-13.507, 47.0399)
  line L2 (-13.507, 47.0399) -> (-15.8374, 51.0763)
  line L3 (-15.8374, 51.0763) -> (-13.507, 55.1128)
  line L4 (-13.507, 55.1128) -> (-8.8461, 55.1128)
  line L5 (-8.8461, 55.1128) -> (-6.5156, 51.0763)
  line L6 (3.4844, 51.0763) -> (1.1539, 47.0399)
  line L7 (1.1539, 47.0399) -> (-3.507, 47.0399)
  line L8 (-3.507, 47.0399) -> (-5.8374, 51.0763)
  line L9 (-5.8374, 51.0763) -> (-3.507, 55.1128)
  line L10 (-3.507, 55.1128) -> (1.1539, 55.1128)
  line L11 (1.1539, 55.1128) -> (3.4844, 51.0763)
  point P0 (-35.7929, -8.255)
  dimension "d45" = 9.3218
  dimension "d46" = 9.3218
extrude "Extrusion8" cut sketch "Sketch10" against normal blind 4.3688
properties part number "Top grip collecter grip"
